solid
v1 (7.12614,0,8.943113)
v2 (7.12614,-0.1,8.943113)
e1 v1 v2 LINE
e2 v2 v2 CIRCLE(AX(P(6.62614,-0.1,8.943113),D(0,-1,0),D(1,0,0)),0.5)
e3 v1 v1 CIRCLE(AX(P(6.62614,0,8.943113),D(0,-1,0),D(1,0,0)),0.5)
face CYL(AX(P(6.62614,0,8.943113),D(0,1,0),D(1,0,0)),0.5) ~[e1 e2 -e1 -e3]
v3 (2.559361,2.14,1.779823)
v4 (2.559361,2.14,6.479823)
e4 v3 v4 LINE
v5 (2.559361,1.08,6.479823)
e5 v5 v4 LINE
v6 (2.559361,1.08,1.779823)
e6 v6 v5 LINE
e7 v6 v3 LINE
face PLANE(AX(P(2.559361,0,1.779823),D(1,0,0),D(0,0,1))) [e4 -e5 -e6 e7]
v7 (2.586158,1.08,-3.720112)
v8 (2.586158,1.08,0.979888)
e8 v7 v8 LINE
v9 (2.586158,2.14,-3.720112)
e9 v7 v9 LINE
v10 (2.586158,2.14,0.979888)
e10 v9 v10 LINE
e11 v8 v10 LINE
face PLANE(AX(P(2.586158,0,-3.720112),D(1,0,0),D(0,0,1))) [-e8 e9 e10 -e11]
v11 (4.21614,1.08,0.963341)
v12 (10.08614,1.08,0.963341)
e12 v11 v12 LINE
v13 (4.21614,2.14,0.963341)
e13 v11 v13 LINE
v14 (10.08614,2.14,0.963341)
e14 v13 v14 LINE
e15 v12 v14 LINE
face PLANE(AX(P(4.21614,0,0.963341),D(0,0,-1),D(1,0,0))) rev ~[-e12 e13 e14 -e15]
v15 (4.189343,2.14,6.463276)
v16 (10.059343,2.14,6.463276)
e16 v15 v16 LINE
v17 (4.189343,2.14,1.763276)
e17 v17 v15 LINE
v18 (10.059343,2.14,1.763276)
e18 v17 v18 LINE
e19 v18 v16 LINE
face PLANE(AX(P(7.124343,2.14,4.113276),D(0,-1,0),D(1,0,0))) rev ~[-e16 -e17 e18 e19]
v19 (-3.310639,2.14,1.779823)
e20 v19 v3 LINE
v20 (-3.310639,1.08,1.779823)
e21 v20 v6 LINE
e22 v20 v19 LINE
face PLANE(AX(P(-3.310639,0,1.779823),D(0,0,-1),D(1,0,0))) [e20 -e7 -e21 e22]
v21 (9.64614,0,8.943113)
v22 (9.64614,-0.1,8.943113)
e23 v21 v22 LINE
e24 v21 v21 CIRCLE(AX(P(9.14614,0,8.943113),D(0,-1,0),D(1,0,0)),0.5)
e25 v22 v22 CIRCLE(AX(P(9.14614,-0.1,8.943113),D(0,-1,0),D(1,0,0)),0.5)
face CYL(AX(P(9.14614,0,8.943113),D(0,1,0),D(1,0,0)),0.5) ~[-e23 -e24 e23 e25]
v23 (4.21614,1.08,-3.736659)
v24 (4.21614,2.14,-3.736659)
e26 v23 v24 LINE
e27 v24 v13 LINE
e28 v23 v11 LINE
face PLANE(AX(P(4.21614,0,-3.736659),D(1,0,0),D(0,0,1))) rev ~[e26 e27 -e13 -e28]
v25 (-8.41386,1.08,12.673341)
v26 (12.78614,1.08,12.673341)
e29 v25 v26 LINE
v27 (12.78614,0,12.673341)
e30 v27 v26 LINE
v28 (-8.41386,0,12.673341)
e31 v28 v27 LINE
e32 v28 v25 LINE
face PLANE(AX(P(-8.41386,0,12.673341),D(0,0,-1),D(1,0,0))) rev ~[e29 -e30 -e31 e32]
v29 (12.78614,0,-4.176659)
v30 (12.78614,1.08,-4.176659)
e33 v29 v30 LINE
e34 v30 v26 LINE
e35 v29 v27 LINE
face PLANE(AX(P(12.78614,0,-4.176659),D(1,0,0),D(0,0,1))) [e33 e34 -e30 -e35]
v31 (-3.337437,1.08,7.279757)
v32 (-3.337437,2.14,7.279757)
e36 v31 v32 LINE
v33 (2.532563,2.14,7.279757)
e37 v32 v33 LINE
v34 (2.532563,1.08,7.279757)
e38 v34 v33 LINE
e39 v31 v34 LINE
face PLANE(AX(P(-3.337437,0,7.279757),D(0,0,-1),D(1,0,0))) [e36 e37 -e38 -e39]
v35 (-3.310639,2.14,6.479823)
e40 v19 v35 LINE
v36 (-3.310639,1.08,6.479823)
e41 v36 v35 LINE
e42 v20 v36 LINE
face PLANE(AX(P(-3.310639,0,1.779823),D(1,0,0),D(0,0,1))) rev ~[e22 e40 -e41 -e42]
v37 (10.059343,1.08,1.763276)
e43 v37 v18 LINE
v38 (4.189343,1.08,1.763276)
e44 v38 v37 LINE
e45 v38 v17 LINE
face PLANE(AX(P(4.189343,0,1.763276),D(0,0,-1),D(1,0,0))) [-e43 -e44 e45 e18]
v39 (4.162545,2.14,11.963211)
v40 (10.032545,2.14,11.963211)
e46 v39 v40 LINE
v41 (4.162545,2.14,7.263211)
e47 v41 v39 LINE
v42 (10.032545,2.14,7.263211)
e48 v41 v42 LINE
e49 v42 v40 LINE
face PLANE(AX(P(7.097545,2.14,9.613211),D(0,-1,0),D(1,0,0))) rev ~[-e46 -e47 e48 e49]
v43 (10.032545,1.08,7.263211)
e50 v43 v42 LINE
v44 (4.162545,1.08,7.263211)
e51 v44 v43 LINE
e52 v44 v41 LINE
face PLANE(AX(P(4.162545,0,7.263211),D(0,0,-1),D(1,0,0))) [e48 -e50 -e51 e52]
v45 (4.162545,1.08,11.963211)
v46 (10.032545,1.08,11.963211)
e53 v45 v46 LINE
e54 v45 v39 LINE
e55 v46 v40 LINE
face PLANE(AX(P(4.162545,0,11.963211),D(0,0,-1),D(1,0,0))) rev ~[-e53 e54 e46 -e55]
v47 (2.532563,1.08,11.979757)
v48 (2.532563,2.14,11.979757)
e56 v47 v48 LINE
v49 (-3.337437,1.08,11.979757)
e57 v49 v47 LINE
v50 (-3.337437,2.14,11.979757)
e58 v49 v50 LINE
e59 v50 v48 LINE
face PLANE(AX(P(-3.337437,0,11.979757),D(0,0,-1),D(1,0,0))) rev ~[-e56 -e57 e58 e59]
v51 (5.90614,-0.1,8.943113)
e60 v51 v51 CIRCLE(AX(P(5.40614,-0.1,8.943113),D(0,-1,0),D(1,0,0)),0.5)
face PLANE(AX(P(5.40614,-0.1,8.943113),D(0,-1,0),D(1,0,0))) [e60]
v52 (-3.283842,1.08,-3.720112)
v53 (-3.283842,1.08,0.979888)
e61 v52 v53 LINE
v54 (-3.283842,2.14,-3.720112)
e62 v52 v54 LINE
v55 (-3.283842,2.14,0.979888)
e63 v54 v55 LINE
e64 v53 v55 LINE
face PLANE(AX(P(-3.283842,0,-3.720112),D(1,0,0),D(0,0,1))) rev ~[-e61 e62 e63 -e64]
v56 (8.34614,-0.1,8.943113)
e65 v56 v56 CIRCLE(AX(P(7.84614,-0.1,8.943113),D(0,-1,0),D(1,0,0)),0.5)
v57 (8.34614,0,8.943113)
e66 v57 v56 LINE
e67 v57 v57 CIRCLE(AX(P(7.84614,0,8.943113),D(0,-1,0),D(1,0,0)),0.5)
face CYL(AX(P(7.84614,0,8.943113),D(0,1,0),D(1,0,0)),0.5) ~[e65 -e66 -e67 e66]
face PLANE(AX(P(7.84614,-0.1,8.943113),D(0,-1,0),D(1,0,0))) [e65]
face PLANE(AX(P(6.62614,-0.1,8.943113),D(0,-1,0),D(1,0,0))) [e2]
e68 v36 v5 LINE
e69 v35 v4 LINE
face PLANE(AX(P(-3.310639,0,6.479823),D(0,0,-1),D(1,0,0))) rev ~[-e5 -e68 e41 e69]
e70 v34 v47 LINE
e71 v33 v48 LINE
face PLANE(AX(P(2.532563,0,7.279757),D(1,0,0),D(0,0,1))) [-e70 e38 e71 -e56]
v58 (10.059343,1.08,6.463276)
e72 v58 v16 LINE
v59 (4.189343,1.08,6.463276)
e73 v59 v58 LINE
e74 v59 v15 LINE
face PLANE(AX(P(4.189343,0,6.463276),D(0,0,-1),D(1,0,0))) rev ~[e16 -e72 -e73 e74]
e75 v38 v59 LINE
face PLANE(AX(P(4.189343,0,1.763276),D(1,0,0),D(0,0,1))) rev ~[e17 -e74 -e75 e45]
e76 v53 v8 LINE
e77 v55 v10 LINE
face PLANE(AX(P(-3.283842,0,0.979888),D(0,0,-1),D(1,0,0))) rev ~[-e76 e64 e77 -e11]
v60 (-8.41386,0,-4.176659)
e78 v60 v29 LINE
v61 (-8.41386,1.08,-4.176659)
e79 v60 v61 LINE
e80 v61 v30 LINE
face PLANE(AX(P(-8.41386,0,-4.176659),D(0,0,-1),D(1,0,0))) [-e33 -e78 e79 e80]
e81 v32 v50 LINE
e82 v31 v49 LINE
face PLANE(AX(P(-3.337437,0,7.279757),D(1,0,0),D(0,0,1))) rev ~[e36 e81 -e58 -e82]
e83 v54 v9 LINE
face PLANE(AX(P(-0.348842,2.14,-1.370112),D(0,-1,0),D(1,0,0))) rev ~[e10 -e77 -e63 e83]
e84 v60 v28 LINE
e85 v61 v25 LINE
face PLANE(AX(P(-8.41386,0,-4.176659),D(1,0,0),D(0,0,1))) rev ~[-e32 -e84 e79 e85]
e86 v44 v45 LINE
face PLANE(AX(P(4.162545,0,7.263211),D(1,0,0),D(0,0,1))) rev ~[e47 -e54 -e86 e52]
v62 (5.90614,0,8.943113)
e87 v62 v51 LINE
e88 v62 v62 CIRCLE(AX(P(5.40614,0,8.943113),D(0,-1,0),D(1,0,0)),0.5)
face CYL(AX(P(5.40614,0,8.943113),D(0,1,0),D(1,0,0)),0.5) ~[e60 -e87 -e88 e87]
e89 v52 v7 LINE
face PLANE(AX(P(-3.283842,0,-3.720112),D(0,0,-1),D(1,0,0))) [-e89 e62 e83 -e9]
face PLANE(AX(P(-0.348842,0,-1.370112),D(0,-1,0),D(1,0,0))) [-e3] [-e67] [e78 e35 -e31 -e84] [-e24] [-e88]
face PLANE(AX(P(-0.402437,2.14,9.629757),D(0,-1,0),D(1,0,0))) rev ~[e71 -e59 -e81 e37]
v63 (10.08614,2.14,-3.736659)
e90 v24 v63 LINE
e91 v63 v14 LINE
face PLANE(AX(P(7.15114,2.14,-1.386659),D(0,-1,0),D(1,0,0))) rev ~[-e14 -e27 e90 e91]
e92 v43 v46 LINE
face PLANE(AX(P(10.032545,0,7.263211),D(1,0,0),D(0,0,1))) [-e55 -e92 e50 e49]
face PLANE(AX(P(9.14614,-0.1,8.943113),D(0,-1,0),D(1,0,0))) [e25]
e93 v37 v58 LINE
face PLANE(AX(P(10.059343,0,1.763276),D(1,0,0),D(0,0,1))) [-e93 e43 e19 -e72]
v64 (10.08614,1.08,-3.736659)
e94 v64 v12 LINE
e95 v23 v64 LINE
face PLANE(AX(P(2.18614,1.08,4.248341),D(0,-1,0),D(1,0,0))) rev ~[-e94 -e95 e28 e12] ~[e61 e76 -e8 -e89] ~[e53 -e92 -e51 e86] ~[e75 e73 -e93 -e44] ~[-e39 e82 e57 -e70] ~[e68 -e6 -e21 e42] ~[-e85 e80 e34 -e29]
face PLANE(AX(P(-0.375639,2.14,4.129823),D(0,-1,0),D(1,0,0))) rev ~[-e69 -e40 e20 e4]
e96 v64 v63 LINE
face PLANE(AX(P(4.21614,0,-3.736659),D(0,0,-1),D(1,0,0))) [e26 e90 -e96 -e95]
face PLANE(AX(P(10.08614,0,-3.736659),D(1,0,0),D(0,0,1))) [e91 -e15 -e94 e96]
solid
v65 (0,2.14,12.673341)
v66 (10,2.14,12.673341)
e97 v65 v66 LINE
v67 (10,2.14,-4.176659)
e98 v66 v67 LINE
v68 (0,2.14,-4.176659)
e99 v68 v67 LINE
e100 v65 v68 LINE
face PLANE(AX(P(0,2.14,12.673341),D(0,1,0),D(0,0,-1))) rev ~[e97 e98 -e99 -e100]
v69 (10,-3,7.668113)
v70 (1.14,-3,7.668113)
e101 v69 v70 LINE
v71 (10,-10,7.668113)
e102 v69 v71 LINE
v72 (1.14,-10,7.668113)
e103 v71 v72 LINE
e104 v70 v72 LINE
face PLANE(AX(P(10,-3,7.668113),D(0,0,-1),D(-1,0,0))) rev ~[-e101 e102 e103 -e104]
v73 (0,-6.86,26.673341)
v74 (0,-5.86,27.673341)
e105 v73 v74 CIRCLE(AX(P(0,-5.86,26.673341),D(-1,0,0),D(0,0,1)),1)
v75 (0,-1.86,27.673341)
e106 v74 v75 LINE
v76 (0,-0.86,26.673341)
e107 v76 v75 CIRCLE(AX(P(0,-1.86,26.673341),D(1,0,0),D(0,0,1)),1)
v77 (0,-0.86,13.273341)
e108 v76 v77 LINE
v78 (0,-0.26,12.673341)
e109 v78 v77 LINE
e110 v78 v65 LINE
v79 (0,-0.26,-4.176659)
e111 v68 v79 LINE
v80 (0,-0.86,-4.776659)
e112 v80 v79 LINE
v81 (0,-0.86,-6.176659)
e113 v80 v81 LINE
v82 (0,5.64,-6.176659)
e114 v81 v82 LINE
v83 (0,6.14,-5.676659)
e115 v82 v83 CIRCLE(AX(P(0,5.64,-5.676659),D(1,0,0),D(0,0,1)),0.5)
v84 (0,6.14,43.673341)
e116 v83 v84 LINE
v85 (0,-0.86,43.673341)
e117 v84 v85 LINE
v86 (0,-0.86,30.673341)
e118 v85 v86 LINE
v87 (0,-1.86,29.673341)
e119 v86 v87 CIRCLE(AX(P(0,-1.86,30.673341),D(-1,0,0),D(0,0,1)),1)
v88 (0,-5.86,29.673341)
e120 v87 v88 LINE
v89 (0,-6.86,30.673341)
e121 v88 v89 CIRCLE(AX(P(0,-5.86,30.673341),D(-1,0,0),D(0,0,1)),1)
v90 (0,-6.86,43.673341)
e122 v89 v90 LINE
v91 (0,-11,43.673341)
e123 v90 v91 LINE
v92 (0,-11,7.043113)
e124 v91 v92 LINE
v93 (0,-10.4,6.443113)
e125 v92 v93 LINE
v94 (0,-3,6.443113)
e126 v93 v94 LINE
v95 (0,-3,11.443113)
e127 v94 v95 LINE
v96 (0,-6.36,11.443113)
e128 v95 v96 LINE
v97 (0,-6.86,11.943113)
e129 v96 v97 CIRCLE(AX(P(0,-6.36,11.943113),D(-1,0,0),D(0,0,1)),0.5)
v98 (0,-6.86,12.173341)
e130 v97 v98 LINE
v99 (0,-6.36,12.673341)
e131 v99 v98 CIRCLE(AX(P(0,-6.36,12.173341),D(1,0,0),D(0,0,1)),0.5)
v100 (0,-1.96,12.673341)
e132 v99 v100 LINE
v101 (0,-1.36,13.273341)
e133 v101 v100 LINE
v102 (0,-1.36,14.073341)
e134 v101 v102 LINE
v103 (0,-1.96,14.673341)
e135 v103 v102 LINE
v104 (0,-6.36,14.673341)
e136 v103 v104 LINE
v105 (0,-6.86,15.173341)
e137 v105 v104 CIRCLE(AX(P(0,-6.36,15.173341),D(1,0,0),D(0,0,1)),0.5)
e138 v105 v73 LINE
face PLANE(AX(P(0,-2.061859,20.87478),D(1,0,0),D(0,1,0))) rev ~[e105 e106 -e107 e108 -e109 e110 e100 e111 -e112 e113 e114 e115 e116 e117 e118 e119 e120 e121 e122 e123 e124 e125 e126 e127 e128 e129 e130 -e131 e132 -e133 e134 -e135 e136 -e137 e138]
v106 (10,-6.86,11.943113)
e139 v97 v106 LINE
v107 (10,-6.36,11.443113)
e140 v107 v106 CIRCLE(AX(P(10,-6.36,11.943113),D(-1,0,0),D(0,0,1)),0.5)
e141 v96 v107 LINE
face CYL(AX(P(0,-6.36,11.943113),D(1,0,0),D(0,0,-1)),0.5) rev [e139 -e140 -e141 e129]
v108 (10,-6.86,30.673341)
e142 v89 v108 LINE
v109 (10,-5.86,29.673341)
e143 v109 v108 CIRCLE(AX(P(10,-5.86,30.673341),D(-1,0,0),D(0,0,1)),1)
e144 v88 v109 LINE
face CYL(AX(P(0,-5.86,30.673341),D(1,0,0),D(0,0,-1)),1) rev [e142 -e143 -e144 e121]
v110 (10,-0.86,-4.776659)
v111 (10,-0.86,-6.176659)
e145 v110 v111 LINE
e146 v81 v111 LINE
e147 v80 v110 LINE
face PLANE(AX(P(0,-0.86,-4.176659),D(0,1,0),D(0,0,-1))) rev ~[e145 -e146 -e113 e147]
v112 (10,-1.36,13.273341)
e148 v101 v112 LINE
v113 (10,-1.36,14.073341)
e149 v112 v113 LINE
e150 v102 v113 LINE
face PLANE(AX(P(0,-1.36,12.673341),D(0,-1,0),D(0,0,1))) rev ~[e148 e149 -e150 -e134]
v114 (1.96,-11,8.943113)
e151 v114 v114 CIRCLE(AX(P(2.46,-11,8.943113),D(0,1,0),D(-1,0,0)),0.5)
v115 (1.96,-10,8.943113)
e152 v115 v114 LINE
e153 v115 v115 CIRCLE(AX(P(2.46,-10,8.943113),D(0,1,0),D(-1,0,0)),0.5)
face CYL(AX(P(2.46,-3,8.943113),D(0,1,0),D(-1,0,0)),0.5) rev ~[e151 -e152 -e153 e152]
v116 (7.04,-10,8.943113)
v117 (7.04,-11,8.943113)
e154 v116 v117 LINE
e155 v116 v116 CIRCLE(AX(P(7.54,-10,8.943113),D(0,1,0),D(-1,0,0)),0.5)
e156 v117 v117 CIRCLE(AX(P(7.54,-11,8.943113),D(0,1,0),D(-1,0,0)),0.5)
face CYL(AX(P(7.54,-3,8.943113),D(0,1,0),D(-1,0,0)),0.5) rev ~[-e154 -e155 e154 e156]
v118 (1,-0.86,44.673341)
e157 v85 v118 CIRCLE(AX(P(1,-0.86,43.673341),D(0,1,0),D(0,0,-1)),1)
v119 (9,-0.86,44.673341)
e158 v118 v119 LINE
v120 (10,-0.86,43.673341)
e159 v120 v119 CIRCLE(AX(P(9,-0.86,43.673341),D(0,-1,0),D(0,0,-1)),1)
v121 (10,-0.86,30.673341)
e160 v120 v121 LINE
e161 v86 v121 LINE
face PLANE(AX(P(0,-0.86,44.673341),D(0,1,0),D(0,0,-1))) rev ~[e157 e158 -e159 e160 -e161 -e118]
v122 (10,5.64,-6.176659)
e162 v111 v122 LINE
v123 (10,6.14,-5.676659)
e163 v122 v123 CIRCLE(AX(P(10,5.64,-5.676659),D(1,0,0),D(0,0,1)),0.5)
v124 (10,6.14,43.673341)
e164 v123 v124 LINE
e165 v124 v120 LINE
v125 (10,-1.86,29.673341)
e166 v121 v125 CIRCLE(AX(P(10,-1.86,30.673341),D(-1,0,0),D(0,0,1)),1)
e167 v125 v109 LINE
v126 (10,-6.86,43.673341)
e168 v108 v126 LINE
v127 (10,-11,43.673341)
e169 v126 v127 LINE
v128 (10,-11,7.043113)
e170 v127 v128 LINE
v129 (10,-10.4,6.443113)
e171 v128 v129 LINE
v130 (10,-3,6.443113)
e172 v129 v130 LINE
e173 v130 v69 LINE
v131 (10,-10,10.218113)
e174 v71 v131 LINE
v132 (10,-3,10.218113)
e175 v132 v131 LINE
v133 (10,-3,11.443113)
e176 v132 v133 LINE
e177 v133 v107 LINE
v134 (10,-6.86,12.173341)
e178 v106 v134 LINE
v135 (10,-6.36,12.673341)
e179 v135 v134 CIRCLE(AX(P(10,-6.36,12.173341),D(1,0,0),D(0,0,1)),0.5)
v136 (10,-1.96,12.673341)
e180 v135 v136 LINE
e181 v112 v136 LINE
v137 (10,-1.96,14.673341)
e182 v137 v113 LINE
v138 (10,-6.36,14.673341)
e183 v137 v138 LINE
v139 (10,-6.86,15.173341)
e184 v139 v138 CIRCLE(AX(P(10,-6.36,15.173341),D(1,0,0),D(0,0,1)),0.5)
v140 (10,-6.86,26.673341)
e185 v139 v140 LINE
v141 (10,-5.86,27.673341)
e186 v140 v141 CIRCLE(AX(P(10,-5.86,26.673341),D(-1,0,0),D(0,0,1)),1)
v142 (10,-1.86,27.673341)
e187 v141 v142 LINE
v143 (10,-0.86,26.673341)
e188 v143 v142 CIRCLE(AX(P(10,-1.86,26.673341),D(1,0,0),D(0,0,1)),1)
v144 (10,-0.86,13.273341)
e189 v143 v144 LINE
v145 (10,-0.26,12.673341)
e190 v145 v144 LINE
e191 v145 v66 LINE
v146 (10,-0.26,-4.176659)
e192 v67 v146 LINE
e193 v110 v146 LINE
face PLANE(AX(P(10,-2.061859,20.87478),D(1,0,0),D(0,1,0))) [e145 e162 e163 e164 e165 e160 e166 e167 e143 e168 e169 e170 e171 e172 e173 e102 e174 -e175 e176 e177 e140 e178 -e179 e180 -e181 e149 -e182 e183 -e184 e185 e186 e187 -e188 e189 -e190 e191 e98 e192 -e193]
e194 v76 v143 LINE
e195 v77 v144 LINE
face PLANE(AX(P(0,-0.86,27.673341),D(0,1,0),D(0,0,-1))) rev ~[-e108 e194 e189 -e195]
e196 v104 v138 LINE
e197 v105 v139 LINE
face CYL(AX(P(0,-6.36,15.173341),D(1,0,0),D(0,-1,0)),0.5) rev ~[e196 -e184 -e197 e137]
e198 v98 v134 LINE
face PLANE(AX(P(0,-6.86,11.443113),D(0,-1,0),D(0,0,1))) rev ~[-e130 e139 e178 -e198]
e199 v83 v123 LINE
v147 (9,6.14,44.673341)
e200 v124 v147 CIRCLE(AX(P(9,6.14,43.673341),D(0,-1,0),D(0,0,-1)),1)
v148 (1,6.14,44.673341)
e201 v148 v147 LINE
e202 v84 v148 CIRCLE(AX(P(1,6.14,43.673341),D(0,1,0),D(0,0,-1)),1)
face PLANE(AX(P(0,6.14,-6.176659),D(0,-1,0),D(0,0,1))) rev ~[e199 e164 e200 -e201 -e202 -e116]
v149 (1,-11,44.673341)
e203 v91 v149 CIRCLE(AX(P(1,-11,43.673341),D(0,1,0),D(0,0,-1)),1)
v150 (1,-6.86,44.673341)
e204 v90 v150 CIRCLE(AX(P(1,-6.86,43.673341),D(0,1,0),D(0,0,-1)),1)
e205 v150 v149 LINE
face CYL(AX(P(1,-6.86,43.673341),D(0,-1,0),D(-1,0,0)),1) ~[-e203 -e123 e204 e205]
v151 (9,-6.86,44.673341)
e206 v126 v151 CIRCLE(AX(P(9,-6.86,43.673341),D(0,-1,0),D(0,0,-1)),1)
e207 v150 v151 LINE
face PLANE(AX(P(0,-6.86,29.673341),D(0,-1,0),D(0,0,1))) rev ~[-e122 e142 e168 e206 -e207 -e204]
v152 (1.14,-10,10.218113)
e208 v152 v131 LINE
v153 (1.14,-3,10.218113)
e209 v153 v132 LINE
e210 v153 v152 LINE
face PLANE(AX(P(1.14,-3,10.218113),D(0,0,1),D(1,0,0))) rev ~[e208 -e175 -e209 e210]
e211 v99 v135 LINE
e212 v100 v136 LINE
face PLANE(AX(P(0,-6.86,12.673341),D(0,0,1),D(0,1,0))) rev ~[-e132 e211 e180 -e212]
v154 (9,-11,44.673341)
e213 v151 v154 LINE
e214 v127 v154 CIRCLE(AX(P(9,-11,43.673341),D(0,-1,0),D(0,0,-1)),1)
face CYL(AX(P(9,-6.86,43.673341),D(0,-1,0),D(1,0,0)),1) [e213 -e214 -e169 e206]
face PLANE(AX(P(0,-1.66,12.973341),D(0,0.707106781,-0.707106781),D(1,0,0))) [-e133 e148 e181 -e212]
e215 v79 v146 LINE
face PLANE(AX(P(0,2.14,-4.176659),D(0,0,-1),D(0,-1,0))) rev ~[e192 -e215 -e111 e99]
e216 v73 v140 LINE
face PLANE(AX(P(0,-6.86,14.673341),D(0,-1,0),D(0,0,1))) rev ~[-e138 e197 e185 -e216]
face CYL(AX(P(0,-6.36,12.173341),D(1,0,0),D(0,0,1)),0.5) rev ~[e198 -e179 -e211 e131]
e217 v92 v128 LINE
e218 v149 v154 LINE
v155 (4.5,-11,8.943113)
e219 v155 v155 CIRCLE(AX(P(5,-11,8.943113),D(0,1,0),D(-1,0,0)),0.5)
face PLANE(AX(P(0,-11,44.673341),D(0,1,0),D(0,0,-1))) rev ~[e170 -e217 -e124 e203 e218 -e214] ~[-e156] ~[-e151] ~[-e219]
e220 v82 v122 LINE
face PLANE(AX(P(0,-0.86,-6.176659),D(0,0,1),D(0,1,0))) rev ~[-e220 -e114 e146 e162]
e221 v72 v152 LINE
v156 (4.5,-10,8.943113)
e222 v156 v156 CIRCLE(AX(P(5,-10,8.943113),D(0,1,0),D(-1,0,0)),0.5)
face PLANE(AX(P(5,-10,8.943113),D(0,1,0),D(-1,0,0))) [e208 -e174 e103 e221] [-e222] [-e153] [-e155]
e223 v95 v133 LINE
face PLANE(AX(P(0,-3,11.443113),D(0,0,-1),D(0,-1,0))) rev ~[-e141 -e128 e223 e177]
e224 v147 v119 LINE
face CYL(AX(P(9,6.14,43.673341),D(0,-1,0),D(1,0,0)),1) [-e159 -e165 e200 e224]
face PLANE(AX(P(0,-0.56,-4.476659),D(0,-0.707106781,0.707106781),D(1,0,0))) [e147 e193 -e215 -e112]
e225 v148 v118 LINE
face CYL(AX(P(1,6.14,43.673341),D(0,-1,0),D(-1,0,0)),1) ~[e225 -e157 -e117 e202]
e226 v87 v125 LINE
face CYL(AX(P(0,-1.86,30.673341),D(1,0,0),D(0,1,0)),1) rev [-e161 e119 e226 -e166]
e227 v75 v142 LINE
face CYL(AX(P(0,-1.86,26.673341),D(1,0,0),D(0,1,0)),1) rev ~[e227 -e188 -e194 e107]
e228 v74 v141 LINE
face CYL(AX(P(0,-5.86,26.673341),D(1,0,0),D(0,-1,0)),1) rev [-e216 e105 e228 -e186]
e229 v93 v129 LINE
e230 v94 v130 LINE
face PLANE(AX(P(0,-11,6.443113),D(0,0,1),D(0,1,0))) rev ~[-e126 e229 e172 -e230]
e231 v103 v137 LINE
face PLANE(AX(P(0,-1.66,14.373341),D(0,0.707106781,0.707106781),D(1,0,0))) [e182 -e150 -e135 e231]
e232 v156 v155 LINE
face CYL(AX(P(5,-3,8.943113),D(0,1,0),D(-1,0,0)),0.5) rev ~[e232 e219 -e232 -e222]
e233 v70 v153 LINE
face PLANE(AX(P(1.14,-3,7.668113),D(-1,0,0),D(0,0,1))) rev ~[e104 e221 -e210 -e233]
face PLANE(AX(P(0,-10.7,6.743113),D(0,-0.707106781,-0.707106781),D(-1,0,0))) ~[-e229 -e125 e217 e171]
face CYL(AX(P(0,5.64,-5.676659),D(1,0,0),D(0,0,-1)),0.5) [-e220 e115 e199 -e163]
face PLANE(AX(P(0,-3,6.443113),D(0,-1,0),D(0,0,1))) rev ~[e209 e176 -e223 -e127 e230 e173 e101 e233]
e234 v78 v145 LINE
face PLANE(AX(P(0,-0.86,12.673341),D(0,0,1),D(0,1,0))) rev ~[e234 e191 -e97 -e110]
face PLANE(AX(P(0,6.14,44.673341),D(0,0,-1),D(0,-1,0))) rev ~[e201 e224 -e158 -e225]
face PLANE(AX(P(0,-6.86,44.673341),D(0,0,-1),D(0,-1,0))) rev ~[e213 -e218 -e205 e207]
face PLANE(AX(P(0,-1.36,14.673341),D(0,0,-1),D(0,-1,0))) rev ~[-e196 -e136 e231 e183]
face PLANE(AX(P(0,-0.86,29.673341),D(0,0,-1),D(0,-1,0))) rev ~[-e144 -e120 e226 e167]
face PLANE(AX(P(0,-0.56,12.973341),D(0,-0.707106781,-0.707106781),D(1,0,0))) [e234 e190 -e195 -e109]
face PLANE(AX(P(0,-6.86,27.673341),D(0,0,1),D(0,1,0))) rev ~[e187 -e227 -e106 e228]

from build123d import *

# Parameters (mm, degrees)
F0_W     = 21.2
F0_H     = 16.85
F0_W_2   = 5.87
F0_H_2   = 4.7
F0_R     = 0.5
F1_DEPTH = 1.08
F2_DEPTH = 2.14
F3_DEPTH = 0.1
F5_DEPTH = 10
F6_W     = 7.72
F6_H     = 2.55
F6_R     = 0.5
F6_W_2   = 1.14
F7_DEPTH = 7
F8_DEPTH = 8.001
F9_R     = 1
F10_SIZE = 0.6
F11_R    = 0.5


with BuildPart() as f1:
    # F0 (on Front) → F1 (new body)
    with BuildSketch(Plane.XZ):
        with Locations((2.18614, 4.248341)):
            Rectangle(F0_W, F0_H)
        with Locations((-0.348842, -1.370112)):
            Rectangle(F0_W_2, F0_H_2, mode=Mode.SUBTRACT)
        with Locations((-0.375639, 4.129823)):
            Rectangle(F0_W_2, F0_H_2, mode=Mode.SUBTRACT)
        with Locations((7.15114, -1.386659)):
            Rectangle(F0_W_2, F0_H_2, mode=Mode.SUBTRACT)
        with Locations((7.124343, 4.113276)):
            Rectangle(F0_W_2, F0_H_2, mode=Mode.SUBTRACT)
        with Locations((-0.402437, 9.629757)):
            Rectangle(F0_W_2, F0_H_2, mode=Mode.SUBTRACT)
        with Locations((7.097545, 9.613211)):
            Rectangle(F0_W_2, F0_H_2, mode=Mode.SUBTRACT)
        with Locations((-0.402437, 9.629757)):
            Rectangle(F0_W_2, F0_H_2)
        with Locations((7.097545, 9.613211)):
            Rectangle(F0_W_2, F0_H_2)
        with Locations((5.40614, 8.943113)):
            Circle(F0_R, mode=Mode.SUBTRACT)
        with Locations((6.62614, 8.943113)):
            Circle(F0_R, mode=Mode.SUBTRACT)
        with Locations((7.84614, 8.943113)):
            Circle(F0_R, mode=Mode.SUBTRACT)
        with Locations((9.14614, 8.943113)):
            Circle(F0_R, mode=Mode.SUBTRACT)
        with Locations((-0.375639, 4.129823)):
            Rectangle(F0_W_2, F0_H_2)
        with Locations((7.124343, 4.113276)):
            Rectangle(F0_W_2, F0_H_2)
        with Locations((-0.348842, -1.370112)):
            Rectangle(F0_W_2, F0_H_2)
        with Locations((7.15114, -1.386659)):
            Rectangle(F0_W_2, F0_H_2)
    extrude(amount=-F1_DEPTH)

    # F0 (on Front) → F2 (join)
    with BuildSketch(Plane.XZ):
        with Locations((-0.348842, -1.370112)):
            Rectangle(F0_W_2, F0_H_2)
        with Locations((-0.375639, 4.129823)):
            Rectangle(F0_W_2, F0_H_2)
        with Locations((-0.402437, 9.629757)):
            Rectangle(F0_W_2, F0_H_2)
        with Locations((7.15114, -1.386659)):
            Rectangle(F0_W_2, F0_H_2)
        with Locations((7.124343, 4.113276)):
            Rectangle(F0_W_2, F0_H_2)
        with Locations((7.097545, 9.613211)):
            Rectangle(F0_W_2, F0_H_2)
        with Locations((5.40614, 8.943113)):
            Circle(F0_R, mode=Mode.SUBTRACT)
        with Locations((6.62614, 8.943113)):
            Circle(F0_R, mode=Mode.SUBTRACT)
        with Locations((7.84614, 8.943113)):
            Circle(F0_R, mode=Mode.SUBTRACT)
        with Locations((9.14614, 8.943113)):
            Circle(F0_R, mode=Mode.SUBTRACT)
        with Locations((5.40614, 8.943113)):
            Circle(F0_R)
        with Locations((6.62614, 8.943113)):
            Circle(F0_R)
        with Locations((7.84614, 8.943113)):
            Circle(F0_R)
        with Locations((9.14614, 8.943113)):
            Circle(F0_R)
    extrude(amount=-F2_DEPTH)

    # F0 (on Front) → F3 (join)
    with BuildSketch(Plane.XZ):
        with Locations((5.40614, 8.943113)):
            Circle(F0_R)
        with Locations((6.62614, 8.943113)):
            Circle(F0_R)
        with Locations((7.84614, 8.943113)):
            Circle(F0_R)
        with Locations((9.14614, 8.943113)):
            Circle(F0_R)
    extrude(amount=F3_DEPTH)


with BuildPart() as f5:
    # F4 (on Right) → F5 (new body)
    with BuildSketch(Plane.YZ):
        Polygon((2.14, 12.673341), (2.14, 11.979757), (2.14, 7.279757), (2.14, -4.176659), (-0.86, -4.176659), (-0.86, -6.176659), (6.14, -6.176659), (6.14, 44.673341), (-0.86, 44.673341), (-0.86, 29.673341), (-6.86, 29.673341), (-6.86, 44.673341), (-11, 44.673341), (-11, 6.443113), (-3, 6.443113), (-3, 11.443113), (-6.86, 11.443113), (-6.86, 12.673341), (-1.36, 12.673341), (-1.36, 14.673341), (-6.86, 14.673341), (-6.86, 27.673341), (-0.86, 27.673341), (-0.86, 12.673341), (0, 12.673341), (1.08, 12.673341), align=None)
    extrude(amount=F5_DEPTH)

    # F6 (on face) → F7 (cut)
    with BuildSketch(Plane(origin=(0, -3, 0), x_dir=(-1, 0, 0), z_dir=(0, 1, 0))):
        with Locations((-5, 8.943113)):
            Rectangle(F6_W, F6_H)
        with Locations((-7.54, 8.943113)):
            Circle(F6_R, mode=Mode.SUBTRACT)
        with Locations((-5, 8.943113)):
            Circle(F6_R, mode=Mode.SUBTRACT)
        with Locations((-2.46, 8.943113)):
            Circle(F6_R, mode=Mode.SUBTRACT)
        with Locations((-9.43, 8.943113)):
            Rectangle(F6_W_2, F6_H)
        with Locations((-7.54, 8.943113)):
            Circle(F6_R)
        with Locations((-5, 8.943113)):
            Circle(F6_R)
        with Locations((-2.46, 8.943113)):
            Circle(F6_R)
    extrude(amount=-F7_DEPTH, mode=Mode.SUBTRACT)

    # F6 (on face) → F8 (cut, through all)
    with BuildSketch(Plane(origin=(0, -3, 0), x_dir=(-1, 0, 0), z_dir=(0, 1, 0))):
        with Locations((-2.46, 8.943113)):
            Circle(F6_R)
        with Locations((-5, 8.943113)):
            Circle(F6_R)
        with Locations((-7.54, 8.943113)):
            Circle(F6_R)
    extrude(amount=-F8_DEPTH, mode=Mode.SUBTRACT)

    # F9
    f9_edges = [f5.edges().sort_by_distance(p)[0] for p in [
        (5, -0.86, 29.673341),
        (5, -0.86, 27.673341),
        (5, -6.86, 27.673341),
        (5, -6.86, 29.673341),
        (10, -8.93, 44.673341),
        (0, -8.93, 44.673341),
        (0, 2.64, 44.673341),
        (10, 2.64, 44.673341),
    ]]
    fillet(f9_edges, radius=F9_R)

    # F10
    f10_edges = [f5.edges().sort_by_distance(p)[0] for p in [
        (5, -11, 6.443113),
        (5, -0.86, -4.176659),
        (5, -0.86, 12.673341),
        (5, -1.36, 12.673341),
        (5, -1.36, 14.673341),
    ]]
    chamfer(f10_edges, length=F10_SIZE)

    # F11
    f11_edges = [f5.edges().sort_by_distance(p)[0] for p in [
        (5, -6.86, 12.673341),
        (5, -6.86, 14.673341),
        (5, -6.86, 11.443113),
        (5, 6.14, -6.176659),
    ]]
    fillet(f11_edges, radius=F11_R)


solid = Compound([f1.part, f5.part])
